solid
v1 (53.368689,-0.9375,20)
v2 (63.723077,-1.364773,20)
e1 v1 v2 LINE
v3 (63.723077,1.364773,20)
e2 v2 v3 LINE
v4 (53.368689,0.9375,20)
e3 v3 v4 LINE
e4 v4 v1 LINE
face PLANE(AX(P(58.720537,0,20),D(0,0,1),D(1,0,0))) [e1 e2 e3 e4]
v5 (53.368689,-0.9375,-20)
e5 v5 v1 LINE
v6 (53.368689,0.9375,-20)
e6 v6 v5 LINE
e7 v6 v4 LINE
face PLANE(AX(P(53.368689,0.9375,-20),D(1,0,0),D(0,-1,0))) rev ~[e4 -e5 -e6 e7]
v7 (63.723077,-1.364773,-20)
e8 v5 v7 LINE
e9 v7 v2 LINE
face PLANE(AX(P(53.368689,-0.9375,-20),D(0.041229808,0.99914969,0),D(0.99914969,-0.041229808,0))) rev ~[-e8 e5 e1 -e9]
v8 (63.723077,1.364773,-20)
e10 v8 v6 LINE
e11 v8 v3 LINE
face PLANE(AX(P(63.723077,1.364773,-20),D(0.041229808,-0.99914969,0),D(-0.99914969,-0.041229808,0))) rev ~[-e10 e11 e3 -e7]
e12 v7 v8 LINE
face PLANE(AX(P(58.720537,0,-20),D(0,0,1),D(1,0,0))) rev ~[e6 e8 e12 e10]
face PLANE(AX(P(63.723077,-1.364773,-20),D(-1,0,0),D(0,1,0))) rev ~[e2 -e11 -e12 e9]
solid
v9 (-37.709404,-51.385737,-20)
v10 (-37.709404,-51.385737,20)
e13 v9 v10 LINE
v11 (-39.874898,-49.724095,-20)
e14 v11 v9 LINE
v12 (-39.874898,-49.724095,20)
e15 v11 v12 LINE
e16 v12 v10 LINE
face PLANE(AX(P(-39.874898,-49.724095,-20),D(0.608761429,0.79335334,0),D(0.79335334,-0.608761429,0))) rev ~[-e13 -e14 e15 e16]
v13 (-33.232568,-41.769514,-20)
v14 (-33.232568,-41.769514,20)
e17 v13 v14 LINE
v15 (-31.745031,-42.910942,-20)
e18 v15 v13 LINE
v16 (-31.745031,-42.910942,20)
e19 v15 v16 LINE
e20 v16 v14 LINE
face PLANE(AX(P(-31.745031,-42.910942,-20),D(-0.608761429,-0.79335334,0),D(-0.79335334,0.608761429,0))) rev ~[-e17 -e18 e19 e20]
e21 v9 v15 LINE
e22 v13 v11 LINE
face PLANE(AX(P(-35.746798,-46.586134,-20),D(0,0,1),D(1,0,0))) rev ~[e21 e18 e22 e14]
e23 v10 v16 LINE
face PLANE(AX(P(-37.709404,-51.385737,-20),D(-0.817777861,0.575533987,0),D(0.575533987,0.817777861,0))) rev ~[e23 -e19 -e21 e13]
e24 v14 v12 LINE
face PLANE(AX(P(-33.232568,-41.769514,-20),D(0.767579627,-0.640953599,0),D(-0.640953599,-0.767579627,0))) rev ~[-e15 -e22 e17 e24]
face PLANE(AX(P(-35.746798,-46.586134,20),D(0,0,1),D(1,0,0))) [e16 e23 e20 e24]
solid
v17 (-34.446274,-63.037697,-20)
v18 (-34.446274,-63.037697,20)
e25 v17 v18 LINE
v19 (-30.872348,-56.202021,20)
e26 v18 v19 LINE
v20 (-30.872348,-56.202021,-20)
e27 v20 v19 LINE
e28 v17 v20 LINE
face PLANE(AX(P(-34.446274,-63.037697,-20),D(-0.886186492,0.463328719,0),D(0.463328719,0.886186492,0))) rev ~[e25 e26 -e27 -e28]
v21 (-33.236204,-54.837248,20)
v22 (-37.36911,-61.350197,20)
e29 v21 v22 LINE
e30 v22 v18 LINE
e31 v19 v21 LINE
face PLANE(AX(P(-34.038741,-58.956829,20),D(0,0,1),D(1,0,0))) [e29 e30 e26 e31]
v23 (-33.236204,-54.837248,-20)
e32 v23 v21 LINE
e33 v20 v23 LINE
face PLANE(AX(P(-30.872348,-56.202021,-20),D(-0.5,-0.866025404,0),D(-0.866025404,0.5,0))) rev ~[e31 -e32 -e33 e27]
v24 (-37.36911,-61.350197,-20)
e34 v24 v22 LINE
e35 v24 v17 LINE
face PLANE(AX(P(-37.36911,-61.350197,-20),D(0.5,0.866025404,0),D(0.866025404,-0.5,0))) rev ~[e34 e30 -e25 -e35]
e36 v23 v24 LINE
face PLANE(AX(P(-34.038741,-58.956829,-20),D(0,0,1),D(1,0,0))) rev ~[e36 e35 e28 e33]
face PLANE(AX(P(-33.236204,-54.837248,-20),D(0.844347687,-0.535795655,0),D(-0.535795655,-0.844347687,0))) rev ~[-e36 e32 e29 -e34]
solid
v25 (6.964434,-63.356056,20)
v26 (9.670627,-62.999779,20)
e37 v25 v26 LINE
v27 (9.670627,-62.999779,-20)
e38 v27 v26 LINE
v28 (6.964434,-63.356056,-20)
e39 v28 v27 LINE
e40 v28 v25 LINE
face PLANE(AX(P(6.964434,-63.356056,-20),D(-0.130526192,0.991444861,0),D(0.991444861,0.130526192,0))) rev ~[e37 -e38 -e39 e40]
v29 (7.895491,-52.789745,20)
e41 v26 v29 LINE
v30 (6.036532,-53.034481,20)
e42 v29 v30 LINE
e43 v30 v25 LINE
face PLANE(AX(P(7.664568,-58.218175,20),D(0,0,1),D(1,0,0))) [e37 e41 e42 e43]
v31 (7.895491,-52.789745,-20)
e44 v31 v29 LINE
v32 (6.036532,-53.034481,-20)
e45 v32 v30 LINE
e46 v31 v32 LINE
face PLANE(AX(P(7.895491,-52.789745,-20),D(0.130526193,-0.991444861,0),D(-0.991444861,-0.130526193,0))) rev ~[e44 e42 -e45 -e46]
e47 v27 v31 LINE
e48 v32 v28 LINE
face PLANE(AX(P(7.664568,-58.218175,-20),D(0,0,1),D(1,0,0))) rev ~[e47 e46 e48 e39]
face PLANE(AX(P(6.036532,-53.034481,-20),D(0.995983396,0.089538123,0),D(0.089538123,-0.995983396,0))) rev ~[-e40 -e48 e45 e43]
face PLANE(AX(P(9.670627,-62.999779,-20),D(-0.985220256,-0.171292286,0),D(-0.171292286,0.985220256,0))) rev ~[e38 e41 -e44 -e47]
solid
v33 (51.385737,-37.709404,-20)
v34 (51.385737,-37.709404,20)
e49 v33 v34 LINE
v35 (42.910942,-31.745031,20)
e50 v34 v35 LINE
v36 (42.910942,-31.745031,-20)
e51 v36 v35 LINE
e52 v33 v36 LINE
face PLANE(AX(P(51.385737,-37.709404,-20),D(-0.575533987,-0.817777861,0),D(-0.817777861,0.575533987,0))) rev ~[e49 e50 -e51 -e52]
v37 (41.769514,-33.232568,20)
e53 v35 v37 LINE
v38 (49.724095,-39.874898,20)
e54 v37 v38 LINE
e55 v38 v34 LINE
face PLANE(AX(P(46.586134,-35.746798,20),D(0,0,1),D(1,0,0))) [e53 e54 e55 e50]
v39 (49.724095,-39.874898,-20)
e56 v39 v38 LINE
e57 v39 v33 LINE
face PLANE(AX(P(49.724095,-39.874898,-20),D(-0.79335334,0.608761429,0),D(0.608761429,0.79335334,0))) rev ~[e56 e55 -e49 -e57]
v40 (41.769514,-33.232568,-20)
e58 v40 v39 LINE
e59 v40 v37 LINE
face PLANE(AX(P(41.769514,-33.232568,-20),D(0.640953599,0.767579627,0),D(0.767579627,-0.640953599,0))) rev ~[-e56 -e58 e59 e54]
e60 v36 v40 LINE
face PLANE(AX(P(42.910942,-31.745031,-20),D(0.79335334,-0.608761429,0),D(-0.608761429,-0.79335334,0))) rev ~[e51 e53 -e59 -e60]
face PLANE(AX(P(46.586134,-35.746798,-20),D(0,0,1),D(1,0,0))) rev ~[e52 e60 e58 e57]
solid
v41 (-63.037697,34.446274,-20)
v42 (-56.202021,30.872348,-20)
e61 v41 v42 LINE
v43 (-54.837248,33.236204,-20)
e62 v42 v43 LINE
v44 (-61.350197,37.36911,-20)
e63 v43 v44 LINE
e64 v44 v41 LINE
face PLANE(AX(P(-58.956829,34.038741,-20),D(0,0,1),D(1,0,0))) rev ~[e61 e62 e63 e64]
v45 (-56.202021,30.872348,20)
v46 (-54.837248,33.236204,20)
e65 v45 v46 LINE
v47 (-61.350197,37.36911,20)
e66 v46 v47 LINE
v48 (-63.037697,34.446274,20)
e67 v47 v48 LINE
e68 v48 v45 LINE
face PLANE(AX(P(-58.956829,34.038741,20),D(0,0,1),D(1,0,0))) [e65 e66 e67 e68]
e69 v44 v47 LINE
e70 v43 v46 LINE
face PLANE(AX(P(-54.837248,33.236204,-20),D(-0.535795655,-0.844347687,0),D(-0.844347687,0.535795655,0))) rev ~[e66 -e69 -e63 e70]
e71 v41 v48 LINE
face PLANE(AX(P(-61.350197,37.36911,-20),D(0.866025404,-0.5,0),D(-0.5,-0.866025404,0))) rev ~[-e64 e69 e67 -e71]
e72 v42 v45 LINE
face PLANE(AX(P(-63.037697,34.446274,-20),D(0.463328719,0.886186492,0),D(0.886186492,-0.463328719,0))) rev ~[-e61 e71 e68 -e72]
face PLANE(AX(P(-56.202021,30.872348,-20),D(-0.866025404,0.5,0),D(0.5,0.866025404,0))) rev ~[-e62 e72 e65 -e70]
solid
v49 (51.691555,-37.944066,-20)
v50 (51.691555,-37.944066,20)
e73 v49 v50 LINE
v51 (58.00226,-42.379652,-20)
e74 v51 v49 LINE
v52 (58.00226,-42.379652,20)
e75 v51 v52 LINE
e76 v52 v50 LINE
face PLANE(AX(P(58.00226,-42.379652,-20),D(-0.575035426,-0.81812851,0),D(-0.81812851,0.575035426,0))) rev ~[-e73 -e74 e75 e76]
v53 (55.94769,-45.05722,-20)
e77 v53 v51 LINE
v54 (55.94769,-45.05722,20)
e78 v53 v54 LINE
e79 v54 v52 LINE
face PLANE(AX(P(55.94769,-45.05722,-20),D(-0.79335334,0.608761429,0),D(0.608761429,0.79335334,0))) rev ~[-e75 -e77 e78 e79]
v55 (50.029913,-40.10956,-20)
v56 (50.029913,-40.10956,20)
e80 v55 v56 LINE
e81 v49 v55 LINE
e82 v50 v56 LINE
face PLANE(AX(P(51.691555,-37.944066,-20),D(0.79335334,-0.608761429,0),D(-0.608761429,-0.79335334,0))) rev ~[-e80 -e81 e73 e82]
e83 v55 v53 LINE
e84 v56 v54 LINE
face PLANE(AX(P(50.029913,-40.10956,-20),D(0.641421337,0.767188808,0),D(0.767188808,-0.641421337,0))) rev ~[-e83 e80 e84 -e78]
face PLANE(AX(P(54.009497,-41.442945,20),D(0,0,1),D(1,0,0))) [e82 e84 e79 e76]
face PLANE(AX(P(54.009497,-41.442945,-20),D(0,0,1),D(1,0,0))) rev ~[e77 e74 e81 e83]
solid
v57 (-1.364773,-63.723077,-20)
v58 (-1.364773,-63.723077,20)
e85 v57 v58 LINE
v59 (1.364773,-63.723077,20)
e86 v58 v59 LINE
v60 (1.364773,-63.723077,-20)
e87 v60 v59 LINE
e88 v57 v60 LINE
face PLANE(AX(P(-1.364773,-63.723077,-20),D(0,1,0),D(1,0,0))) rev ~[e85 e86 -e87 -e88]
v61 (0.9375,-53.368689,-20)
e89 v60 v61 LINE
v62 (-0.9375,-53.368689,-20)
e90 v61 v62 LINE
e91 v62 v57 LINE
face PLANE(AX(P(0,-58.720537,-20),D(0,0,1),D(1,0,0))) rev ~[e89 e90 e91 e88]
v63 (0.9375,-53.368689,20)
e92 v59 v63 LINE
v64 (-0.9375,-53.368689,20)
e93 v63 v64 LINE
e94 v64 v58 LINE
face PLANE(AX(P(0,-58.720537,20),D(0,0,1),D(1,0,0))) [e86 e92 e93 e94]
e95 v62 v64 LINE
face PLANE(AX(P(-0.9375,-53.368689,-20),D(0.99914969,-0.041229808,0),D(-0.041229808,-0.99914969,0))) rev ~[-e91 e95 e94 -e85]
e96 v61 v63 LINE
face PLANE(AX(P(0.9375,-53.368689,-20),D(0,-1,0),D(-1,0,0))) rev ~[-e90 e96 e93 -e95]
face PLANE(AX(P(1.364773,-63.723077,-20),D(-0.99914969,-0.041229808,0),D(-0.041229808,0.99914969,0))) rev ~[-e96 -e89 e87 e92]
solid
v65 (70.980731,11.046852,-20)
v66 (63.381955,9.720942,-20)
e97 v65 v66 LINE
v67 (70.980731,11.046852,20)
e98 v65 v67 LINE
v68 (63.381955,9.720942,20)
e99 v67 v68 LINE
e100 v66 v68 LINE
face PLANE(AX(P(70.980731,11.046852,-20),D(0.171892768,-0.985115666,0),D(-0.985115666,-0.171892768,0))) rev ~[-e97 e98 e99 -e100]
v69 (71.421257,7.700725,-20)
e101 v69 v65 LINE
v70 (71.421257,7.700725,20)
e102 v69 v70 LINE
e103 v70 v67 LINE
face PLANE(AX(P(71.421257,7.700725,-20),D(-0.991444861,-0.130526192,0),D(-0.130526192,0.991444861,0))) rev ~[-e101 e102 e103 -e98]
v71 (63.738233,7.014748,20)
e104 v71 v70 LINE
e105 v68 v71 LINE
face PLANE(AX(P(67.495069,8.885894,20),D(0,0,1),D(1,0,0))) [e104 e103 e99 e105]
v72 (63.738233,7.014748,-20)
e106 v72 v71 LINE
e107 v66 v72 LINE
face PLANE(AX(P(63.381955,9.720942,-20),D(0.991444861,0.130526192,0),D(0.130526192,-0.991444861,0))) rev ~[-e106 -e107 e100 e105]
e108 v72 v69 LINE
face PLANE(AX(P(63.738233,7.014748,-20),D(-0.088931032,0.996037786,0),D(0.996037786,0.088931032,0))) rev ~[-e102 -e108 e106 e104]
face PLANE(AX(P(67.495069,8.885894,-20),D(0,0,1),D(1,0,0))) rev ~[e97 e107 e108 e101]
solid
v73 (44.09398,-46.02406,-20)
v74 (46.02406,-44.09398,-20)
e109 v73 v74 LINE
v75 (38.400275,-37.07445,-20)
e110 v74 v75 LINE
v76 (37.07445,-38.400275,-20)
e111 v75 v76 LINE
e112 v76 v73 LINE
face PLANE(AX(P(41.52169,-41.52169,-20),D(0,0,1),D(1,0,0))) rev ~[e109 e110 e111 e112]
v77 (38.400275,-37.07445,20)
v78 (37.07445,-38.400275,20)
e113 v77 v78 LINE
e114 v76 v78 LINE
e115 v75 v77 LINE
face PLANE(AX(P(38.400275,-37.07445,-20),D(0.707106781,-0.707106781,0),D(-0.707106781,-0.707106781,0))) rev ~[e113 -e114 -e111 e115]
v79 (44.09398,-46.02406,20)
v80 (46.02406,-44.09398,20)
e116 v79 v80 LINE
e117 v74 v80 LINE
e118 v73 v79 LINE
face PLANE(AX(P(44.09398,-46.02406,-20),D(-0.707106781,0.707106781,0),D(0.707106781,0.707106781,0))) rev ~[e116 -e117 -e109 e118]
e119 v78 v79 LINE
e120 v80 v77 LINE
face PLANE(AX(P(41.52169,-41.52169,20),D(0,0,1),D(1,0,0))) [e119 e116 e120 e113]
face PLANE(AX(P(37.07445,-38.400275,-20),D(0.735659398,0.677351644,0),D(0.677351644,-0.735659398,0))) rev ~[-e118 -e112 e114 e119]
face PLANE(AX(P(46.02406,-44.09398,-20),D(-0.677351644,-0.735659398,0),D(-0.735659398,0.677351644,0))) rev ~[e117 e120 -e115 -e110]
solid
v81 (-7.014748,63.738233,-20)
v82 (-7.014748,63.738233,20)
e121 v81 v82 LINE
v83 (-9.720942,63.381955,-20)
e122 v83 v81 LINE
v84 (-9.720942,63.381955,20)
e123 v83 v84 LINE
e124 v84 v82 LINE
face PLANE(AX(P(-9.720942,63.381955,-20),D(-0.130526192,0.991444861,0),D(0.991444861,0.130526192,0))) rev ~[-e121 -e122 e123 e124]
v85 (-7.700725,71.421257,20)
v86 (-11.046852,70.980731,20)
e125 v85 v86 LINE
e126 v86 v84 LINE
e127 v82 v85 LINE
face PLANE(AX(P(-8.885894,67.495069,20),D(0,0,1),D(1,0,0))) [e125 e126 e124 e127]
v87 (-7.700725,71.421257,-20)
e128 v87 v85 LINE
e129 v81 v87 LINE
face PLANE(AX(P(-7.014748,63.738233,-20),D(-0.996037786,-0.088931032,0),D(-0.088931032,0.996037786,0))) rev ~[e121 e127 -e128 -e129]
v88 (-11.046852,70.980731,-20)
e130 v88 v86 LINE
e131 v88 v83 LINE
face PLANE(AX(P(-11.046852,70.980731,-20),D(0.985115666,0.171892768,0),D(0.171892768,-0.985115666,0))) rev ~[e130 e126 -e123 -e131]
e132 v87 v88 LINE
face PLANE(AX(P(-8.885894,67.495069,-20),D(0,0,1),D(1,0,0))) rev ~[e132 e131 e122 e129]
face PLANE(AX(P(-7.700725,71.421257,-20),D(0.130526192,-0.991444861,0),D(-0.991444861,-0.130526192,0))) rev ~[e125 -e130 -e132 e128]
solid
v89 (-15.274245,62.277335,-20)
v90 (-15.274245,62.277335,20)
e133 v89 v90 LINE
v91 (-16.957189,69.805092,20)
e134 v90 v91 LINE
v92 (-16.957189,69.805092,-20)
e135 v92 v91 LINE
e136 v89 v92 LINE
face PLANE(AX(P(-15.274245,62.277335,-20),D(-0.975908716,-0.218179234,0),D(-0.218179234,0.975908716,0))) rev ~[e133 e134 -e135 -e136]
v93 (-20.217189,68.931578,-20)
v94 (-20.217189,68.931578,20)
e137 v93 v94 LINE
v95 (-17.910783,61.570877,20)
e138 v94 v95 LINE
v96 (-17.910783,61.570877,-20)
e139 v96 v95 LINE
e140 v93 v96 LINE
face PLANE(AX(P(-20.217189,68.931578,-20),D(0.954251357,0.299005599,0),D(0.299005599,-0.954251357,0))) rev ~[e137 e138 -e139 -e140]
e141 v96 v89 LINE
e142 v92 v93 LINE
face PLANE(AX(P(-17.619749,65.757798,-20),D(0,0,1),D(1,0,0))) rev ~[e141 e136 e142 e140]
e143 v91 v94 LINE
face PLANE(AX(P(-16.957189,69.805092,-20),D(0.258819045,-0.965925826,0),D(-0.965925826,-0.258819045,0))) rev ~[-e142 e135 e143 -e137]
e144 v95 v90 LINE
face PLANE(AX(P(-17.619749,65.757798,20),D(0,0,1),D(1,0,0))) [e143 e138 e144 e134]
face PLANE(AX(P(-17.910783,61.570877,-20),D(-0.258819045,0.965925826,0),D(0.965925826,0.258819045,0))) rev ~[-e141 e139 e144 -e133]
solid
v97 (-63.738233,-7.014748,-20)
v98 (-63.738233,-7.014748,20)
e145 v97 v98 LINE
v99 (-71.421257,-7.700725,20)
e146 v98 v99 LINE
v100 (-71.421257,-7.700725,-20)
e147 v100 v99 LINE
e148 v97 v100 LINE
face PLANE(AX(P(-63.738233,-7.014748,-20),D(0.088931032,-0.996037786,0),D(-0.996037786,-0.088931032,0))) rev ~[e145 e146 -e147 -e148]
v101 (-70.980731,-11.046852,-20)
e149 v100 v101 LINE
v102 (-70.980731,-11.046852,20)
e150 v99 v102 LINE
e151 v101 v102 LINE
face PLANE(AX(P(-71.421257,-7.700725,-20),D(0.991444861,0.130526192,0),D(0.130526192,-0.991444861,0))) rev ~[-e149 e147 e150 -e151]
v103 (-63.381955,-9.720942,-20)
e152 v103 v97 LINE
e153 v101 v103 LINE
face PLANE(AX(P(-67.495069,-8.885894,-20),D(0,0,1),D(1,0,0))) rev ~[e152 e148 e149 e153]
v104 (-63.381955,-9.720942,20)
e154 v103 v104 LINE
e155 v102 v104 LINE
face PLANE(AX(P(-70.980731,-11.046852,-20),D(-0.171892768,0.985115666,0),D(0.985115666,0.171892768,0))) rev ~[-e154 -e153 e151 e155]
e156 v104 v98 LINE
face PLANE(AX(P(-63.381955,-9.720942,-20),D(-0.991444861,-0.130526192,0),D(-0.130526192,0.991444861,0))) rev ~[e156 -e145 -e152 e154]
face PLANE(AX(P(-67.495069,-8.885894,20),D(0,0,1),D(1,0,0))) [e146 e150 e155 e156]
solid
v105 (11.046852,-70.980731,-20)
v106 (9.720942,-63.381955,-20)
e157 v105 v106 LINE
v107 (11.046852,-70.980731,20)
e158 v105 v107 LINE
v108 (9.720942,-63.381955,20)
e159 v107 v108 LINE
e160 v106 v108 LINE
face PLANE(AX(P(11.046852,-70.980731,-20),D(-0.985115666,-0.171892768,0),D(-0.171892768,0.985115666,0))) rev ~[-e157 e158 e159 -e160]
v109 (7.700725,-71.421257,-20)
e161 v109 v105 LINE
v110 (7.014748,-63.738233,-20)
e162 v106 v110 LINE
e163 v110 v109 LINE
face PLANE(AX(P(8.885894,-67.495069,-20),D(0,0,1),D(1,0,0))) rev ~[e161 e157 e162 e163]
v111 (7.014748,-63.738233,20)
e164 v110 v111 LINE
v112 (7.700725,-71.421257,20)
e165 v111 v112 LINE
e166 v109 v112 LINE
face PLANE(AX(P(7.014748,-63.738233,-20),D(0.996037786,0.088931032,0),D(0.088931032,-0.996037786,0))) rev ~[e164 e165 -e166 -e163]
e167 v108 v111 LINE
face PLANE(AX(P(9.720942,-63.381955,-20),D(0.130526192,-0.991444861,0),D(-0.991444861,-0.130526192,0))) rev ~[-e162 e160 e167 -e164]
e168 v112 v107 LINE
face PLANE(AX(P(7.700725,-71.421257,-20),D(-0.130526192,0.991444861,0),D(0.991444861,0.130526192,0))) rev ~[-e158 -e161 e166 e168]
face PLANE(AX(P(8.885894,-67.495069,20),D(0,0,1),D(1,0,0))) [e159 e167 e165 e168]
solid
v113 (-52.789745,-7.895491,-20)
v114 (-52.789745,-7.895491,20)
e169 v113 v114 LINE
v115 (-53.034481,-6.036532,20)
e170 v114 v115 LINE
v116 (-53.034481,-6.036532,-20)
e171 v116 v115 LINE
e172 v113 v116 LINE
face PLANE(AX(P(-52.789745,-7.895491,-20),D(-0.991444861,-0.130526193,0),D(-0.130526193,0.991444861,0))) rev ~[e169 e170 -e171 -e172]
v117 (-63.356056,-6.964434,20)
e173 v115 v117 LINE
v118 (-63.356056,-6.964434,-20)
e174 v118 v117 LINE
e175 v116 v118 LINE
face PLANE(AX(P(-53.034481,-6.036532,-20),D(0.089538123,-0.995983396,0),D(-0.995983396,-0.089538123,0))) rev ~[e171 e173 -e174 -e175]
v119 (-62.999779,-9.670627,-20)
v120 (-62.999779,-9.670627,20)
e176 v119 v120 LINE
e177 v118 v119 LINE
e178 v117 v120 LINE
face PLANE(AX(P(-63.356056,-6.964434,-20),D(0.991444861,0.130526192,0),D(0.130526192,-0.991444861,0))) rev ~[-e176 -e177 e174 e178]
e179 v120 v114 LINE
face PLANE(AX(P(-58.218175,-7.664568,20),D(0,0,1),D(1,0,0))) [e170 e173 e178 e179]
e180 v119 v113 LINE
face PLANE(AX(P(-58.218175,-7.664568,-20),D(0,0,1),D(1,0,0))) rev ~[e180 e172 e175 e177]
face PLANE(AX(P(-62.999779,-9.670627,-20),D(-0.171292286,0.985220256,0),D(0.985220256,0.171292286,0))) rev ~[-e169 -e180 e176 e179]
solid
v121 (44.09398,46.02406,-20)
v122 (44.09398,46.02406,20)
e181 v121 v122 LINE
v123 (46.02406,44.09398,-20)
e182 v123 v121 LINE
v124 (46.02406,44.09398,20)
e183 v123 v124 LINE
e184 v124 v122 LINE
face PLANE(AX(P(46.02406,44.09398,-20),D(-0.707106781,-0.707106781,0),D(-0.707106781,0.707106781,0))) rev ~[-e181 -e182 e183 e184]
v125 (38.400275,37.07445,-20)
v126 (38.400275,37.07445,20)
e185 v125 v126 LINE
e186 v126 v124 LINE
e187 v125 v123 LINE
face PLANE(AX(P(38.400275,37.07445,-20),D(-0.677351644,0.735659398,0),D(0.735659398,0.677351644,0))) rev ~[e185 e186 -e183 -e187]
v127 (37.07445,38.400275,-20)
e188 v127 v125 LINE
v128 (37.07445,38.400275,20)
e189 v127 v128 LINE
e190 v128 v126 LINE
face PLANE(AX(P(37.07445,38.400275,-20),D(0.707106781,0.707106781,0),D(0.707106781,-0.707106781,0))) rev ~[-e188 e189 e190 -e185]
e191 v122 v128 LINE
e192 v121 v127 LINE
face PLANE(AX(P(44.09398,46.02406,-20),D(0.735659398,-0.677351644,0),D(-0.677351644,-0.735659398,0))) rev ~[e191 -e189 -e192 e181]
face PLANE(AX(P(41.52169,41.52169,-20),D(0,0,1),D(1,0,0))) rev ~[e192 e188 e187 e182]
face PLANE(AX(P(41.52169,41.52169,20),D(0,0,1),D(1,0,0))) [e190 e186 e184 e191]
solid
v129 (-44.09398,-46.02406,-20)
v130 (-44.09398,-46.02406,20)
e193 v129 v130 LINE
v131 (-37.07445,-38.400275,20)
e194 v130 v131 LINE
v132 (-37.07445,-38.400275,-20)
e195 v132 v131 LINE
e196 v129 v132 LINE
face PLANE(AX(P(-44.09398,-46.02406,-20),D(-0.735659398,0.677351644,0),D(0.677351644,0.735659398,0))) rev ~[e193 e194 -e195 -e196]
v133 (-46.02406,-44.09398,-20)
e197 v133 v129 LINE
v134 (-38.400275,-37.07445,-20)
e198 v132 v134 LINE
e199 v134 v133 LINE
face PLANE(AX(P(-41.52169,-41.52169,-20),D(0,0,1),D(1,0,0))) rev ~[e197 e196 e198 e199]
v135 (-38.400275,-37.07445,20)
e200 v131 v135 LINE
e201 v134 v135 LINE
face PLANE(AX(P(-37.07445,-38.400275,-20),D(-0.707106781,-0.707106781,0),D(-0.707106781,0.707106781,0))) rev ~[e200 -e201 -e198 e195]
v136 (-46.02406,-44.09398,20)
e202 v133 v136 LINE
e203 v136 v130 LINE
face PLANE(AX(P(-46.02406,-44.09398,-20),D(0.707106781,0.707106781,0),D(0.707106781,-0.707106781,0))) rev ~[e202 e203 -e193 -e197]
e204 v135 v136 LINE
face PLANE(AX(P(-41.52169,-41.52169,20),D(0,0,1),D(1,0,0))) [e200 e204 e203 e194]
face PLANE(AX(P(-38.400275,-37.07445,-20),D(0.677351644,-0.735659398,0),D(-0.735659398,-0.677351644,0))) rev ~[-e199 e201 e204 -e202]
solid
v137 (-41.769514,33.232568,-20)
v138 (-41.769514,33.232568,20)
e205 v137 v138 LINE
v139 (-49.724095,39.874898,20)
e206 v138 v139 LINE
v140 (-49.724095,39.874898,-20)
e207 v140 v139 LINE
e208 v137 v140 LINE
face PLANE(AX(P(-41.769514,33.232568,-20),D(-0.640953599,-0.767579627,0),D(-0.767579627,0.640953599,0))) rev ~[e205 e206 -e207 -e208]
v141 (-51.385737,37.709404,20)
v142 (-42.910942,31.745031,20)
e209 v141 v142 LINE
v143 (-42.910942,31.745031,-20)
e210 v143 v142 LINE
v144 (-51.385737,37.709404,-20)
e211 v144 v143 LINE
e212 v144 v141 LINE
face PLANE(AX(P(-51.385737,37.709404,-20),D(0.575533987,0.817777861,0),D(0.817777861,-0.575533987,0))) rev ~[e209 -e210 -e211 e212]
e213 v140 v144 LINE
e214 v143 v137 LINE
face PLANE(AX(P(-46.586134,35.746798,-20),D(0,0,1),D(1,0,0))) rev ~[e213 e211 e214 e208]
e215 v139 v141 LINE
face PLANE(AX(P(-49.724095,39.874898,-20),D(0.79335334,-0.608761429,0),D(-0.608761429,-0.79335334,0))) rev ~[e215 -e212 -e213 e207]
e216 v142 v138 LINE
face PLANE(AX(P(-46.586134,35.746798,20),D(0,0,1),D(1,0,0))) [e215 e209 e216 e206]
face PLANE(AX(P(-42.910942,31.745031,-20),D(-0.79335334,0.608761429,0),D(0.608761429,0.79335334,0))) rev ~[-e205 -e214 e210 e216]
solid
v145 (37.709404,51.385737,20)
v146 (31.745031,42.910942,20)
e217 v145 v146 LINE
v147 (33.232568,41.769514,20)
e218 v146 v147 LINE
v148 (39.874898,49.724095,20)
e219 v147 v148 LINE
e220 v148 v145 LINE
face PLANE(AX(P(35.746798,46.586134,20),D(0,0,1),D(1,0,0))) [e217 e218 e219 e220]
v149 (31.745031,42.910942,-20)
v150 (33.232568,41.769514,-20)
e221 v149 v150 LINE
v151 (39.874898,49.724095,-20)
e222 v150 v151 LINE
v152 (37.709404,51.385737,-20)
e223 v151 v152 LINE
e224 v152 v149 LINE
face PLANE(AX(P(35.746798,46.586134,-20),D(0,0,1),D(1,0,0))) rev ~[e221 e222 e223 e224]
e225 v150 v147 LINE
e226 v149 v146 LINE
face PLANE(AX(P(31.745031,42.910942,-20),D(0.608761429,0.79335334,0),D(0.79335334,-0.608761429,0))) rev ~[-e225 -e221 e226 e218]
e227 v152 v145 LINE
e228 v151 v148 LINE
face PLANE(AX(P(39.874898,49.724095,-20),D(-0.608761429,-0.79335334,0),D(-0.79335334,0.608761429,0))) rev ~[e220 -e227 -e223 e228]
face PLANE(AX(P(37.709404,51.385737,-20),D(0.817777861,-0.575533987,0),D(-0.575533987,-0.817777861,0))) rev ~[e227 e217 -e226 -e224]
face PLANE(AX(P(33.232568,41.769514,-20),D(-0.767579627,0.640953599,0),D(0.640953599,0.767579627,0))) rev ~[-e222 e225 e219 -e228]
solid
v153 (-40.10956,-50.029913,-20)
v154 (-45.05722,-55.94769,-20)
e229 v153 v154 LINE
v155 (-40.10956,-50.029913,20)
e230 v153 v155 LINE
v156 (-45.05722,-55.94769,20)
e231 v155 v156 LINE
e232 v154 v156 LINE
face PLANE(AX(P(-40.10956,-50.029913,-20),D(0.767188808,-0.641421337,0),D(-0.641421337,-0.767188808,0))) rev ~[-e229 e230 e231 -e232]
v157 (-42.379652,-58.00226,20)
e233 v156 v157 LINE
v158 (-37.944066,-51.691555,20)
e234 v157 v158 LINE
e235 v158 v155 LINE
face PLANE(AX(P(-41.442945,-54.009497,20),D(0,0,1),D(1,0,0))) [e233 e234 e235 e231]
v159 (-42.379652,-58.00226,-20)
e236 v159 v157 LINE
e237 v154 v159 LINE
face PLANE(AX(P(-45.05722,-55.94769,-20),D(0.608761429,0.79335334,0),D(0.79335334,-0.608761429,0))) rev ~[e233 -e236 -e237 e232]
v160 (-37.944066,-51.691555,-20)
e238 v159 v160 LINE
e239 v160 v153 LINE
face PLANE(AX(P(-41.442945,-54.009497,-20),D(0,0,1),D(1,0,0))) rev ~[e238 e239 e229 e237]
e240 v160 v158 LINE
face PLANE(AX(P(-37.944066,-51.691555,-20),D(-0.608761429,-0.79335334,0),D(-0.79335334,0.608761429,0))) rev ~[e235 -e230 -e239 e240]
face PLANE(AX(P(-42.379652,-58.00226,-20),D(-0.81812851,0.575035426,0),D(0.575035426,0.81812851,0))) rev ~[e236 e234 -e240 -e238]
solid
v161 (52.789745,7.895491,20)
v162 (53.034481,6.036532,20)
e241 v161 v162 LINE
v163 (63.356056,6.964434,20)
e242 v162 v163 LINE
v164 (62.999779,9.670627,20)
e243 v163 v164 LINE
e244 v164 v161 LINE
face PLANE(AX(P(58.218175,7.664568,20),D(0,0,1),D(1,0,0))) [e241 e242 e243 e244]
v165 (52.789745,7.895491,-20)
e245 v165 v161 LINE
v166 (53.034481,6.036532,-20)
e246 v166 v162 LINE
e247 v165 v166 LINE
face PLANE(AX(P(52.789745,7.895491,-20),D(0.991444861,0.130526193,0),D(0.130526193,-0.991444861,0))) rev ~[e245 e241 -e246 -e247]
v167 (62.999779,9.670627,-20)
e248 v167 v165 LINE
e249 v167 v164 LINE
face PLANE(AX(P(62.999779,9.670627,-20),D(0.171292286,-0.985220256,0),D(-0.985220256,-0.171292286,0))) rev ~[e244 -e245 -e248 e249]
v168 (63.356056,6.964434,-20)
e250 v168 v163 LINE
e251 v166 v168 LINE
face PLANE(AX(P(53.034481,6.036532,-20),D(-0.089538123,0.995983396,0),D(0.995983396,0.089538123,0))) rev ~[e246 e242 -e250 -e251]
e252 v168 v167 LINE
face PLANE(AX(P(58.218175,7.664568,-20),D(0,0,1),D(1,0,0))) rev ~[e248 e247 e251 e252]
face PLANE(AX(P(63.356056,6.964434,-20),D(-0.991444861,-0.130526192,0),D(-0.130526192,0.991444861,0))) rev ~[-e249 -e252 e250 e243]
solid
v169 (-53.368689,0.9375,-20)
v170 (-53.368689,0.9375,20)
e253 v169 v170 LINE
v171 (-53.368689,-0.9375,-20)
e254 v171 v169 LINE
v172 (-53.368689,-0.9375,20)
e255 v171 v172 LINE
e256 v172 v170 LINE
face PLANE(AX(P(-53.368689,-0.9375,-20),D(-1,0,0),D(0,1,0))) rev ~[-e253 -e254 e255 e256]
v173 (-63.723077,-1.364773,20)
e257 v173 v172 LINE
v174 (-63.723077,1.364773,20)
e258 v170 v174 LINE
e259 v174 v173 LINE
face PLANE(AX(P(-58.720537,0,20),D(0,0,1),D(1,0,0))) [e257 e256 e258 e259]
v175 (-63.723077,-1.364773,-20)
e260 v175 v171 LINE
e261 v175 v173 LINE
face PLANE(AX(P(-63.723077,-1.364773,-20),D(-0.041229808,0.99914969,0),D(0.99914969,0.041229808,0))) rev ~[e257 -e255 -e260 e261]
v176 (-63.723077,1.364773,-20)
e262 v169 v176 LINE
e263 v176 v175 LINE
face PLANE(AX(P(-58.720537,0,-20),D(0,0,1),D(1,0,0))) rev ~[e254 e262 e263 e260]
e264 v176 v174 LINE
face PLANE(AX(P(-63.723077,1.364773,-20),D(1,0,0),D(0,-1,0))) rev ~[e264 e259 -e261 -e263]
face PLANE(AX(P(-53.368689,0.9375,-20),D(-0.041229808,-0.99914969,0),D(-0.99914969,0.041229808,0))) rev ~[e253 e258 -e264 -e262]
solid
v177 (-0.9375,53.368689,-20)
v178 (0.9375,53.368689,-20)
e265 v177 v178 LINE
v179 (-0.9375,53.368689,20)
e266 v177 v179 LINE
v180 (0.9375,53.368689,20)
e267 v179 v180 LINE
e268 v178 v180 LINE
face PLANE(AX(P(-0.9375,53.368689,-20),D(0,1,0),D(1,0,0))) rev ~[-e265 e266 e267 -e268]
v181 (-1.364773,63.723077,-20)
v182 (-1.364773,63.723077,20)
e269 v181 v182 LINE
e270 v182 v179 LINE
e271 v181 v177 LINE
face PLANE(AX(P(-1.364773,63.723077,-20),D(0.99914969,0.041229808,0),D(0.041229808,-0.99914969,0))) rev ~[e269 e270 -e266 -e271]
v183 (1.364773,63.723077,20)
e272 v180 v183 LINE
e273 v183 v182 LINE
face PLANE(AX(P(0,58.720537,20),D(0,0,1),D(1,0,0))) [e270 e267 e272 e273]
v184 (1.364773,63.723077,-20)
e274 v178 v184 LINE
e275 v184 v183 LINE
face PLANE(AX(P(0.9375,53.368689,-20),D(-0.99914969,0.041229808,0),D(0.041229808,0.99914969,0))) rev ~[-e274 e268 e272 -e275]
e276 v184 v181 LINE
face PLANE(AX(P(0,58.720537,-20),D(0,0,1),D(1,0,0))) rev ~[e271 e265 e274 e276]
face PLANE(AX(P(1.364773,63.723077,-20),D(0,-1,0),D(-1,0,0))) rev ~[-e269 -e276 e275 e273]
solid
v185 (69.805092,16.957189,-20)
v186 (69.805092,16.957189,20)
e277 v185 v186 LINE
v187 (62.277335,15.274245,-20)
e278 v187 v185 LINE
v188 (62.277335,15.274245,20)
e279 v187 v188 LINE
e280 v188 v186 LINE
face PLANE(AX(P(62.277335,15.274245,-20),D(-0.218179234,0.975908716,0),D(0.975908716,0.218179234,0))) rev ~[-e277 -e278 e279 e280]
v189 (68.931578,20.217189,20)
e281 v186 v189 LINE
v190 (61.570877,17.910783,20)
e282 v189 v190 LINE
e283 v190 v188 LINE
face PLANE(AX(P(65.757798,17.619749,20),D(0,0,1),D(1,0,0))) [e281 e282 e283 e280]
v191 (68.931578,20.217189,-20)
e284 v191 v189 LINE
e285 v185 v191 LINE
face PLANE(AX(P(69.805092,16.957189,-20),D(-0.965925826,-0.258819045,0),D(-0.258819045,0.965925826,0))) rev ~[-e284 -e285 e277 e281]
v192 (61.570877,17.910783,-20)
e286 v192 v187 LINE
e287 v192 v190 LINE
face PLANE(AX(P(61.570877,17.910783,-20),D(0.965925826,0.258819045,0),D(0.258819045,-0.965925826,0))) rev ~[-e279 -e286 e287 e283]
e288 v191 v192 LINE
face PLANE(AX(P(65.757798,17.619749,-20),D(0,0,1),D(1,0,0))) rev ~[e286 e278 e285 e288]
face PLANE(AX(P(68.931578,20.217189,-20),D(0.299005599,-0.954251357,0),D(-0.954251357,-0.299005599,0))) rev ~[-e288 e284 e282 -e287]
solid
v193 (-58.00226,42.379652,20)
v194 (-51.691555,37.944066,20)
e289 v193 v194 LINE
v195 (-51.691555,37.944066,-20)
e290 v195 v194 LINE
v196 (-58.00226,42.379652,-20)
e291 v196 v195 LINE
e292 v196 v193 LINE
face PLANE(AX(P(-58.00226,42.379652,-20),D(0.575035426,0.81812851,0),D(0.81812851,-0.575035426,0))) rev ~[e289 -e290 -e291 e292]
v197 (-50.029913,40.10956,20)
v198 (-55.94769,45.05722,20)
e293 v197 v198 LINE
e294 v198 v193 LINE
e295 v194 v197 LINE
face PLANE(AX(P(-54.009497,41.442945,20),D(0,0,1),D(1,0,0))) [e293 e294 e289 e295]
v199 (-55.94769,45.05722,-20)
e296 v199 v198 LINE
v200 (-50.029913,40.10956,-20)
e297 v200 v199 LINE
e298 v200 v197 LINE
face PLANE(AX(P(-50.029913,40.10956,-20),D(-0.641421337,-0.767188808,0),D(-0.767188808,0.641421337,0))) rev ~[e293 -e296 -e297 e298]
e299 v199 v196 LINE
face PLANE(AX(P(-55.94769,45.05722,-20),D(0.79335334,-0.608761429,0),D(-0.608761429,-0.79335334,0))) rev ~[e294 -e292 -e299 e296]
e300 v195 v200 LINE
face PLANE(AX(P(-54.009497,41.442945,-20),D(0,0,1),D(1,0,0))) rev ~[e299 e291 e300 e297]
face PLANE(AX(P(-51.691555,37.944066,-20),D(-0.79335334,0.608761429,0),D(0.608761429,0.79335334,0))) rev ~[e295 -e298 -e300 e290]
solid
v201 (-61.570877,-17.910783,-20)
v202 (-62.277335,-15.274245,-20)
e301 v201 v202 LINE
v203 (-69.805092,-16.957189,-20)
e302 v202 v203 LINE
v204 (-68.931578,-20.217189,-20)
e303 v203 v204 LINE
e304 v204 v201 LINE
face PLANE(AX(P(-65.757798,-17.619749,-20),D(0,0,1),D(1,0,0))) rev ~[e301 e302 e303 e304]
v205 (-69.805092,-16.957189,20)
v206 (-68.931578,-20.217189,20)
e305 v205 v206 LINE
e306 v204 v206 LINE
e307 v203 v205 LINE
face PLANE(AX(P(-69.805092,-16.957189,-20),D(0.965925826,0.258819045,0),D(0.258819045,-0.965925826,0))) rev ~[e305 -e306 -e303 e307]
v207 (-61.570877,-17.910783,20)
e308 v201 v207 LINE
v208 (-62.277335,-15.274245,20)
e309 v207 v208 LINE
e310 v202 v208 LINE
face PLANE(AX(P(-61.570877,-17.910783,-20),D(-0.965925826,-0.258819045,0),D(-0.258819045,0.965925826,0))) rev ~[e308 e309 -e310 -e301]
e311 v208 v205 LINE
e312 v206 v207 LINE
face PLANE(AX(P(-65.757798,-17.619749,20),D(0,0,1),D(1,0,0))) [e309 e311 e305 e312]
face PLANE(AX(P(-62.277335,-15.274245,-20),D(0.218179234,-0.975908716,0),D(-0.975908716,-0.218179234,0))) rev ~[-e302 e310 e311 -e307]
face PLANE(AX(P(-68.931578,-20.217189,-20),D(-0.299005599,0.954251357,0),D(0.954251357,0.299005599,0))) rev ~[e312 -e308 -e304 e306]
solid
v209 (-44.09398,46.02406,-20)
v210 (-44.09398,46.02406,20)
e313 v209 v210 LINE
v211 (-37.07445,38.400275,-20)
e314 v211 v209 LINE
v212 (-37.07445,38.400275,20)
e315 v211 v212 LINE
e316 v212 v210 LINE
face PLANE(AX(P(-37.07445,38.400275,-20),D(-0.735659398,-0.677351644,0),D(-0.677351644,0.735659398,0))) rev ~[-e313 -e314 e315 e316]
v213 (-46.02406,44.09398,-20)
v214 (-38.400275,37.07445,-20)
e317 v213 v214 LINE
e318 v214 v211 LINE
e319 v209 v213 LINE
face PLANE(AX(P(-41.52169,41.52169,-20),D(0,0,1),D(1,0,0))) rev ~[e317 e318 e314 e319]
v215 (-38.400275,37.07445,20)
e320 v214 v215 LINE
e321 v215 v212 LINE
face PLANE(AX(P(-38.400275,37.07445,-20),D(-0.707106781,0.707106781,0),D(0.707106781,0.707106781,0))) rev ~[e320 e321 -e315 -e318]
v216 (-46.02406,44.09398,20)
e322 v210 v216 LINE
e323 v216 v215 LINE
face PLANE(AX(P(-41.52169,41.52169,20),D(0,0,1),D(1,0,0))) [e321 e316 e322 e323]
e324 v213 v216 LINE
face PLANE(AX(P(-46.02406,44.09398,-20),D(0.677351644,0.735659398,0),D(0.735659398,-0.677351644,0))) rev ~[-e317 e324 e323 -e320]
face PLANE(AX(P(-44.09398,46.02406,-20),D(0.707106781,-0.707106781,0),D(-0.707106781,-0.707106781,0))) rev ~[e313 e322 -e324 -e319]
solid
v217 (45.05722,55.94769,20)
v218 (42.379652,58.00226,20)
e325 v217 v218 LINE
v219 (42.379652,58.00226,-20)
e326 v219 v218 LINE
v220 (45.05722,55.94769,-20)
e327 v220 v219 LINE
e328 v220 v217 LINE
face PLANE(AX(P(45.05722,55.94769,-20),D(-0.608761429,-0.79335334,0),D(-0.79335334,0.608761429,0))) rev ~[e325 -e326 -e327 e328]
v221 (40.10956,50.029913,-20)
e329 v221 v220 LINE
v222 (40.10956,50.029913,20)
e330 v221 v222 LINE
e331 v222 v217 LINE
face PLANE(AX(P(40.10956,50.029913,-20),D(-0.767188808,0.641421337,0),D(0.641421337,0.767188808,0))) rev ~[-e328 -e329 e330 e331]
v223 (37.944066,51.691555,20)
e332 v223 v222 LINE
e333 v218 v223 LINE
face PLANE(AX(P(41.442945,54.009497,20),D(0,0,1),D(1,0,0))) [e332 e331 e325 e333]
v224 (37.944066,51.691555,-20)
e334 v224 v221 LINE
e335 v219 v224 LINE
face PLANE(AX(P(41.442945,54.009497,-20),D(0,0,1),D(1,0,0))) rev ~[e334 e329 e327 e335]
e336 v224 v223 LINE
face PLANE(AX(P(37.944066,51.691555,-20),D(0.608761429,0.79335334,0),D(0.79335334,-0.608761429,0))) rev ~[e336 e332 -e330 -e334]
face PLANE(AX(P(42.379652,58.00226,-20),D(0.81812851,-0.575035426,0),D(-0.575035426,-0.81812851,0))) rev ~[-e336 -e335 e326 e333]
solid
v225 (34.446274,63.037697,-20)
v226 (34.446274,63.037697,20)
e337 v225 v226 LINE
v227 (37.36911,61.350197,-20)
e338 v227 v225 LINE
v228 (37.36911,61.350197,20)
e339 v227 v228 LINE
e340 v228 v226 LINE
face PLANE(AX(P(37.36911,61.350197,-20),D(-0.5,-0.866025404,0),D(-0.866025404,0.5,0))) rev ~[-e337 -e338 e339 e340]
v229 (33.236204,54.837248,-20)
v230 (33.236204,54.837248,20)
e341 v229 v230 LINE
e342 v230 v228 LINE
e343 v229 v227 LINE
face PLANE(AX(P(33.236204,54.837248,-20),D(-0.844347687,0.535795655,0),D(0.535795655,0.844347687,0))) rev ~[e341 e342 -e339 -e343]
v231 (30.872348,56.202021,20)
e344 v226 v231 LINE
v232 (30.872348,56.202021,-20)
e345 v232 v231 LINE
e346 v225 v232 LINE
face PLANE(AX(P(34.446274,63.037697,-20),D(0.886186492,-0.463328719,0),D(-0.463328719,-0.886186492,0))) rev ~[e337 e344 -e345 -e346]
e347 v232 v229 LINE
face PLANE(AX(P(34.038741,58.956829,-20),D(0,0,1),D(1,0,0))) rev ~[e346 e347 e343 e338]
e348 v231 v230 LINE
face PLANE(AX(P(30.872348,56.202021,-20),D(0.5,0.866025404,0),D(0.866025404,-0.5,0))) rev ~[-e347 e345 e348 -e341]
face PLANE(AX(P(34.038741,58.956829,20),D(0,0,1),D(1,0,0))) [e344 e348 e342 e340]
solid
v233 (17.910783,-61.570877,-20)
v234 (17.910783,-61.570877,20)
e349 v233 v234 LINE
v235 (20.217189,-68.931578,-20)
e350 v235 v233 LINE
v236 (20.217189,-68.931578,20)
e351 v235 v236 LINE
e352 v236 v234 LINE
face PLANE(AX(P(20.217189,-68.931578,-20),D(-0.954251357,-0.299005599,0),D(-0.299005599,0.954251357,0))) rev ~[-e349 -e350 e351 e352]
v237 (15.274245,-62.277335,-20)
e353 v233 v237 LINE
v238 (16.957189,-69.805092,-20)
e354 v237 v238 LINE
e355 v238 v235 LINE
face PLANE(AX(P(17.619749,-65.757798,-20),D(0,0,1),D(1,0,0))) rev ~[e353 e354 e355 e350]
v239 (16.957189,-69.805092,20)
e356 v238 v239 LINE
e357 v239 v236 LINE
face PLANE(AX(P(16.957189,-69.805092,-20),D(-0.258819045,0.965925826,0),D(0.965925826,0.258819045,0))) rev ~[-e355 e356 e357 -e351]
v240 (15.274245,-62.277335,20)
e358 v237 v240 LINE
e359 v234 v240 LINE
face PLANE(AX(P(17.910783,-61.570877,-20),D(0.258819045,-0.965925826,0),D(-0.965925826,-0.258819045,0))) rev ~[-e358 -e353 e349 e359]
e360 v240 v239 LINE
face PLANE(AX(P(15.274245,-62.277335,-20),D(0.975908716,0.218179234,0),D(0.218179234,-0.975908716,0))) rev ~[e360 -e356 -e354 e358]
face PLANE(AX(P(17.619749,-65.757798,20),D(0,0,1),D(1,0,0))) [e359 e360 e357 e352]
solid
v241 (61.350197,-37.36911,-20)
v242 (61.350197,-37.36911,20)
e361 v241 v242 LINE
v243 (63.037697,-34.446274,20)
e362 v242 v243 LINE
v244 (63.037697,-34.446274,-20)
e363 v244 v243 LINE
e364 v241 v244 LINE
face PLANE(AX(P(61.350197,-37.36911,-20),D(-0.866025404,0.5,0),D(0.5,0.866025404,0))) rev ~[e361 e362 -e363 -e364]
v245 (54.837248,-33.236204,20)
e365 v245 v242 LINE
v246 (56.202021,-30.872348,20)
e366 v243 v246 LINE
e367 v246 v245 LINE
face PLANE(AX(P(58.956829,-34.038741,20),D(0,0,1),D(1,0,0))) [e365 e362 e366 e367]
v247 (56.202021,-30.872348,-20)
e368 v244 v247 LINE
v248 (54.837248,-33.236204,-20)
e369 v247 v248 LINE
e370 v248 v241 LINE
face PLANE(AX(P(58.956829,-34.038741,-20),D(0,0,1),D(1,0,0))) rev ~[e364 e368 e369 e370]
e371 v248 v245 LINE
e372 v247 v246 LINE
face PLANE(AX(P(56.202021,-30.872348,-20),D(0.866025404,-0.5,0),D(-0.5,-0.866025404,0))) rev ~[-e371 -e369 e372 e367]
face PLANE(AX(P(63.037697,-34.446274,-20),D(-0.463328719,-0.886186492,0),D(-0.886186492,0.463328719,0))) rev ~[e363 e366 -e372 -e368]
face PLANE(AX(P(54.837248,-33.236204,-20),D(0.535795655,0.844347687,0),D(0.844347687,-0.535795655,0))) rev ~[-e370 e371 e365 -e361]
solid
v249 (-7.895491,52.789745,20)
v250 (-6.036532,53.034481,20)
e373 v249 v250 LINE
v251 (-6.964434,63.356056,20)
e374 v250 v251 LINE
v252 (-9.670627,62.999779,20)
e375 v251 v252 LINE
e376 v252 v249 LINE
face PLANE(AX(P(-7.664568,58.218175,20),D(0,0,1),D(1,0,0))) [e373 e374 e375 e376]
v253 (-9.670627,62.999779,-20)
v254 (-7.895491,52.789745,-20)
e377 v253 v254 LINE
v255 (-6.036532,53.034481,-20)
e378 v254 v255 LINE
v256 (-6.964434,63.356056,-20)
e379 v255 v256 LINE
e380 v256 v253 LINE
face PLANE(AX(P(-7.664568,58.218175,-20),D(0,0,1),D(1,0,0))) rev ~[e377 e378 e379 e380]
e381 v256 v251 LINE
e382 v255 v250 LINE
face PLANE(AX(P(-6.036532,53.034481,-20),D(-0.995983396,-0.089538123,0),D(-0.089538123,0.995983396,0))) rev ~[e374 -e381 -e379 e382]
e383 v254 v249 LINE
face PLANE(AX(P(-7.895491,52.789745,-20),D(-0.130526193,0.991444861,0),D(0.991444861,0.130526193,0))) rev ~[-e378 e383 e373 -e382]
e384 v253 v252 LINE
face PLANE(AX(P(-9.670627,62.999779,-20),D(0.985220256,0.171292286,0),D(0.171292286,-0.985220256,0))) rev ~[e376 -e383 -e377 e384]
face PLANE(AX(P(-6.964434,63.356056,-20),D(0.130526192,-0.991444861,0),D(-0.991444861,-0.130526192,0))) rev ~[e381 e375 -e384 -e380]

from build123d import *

# Parameters (mm, degrees)
SLOT_COPPER_ENVELOPES_START    = -20
SLOT_COPPER_ENVELOPES_DEPTH    = 40
SLOT_COPPER_ENVELOPES_2_DEPTH  = 40
SLOT_COPPER_ENVELOPES_3_DEPTH  = 40
SLOT_COPPER_ENVELOPES_4_DEPTH  = 40
SLOT_COPPER_ENVELOPES_5_DEPTH  = 40
SLOT_COPPER_ENVELOPES_6_DEPTH  = 40
SLOT_COPPER_ENVELOPES_7_DEPTH  = 40
SLOT_COPPER_ENVELOPES_8_DEPTH  = 40
SLOT_COPPER_ENVELOPES_9_DEPTH  = 40
SLOT_COPPER_ENVELOPES_10_DEPTH = 40
SLOT_COPPER_ENVELOPES_11_DEPTH = 40
SLOT_COPPER_ENVELOPES_12_DEPTH = 40
SLOT_COPPER_ENVELOPES_13_DEPTH = 40
SLOT_COPPER_ENVELOPES_14_DEPTH = 40
SLOT_COPPER_ENVELOPES_15_DEPTH = 40
SLOT_COPPER_ENVELOPES_16_DEPTH = 40
SLOT_COPPER_ENVELOPES_17_DEPTH = 40
SLOT_COPPER_ENVELOPES_18_DEPTH = 40
SLOT_COPPER_ENVELOPES_19_DEPTH = 40
SLOT_COPPER_ENVELOPES_20_DEPTH = 40
SLOT_COPPER_ENVELOPES_21_DEPTH = 40
SLOT_COPPER_ENVELOPES_22_DEPTH = 40
SLOT_COPPER_ENVELOPES_23_DEPTH = 40
SLOT_COPPER_ENVELOPES_24_DEPTH = 40
SLOT_COPPER_ENVELOPES_25_DEPTH = 40
SLOT_COPPER_ENVELOPES_26_DEPTH = 40
SLOT_COPPER_ENVELOPES_27_DEPTH = 40
SLOT_COPPER_ENVELOPES_28_DEPTH = 40
SLOT_COPPER_ENVELOPES_29_DEPTH = 40
SLOT_COPPER_ENVELOPES_30_DEPTH = 40
SLOT_COPPER_ENVELOPES_31_DEPTH = 40
SLOT_COPPER_ENVELOPES_32_DEPTH = 40


with BuildPart() as part:
    # Эскиз1 → Slot_copper_envelopes (new body)
    with BuildSketch(Plane.XY.offset(SLOT_COPPER_ENVELOPES_START)):
        Polygon((53.368689425, -0.9375), (63.723076923, -1.364772727), (63.723076923, 1.364772727), (53.368689425, 0.9375), align=None)
    extrude(amount=SLOT_COPPER_ENVELOPES_DEPTH)


with BuildPart() as body_2:
    # Эскиз1 → Slot_copper_envelopes 2 (new body)
    with BuildSketch(Plane.XY.offset(SLOT_COPPER_ENVELOPES_START)):
        Polygon((63.738232651, 7.014748223), (71.421256994, 7.700725493), (70.980731095, 11.0468519), (63.381955476, 9.720942038), align=None)
    extrude(amount=SLOT_COPPER_ENVELOPES_2_DEPTH)


with BuildPart() as body_3:
    # Эскиз1 → Slot_copper_envelopes 3 (new body)
    with BuildSketch(Plane.XY.offset(SLOT_COPPER_ENVELOPES_START)):
        Polygon((53.034481194, 6.036532257), (63.356055754, 6.96443368), (62.999778579, 9.670627495), (52.789744583, 7.895491372), align=None)
    extrude(amount=SLOT_COPPER_ENVELOPES_3_DEPTH)


with BuildPart() as body_4:
    # Эскиз1 → Slot_copper_envelopes 4 (new body)
    with BuildSketch(Plane.XY.offset(SLOT_COPPER_ENVELOPES_START)):
        Polygon((62.27733486, 15.274244886), (69.805091863, 16.957189438), (68.931577586, 20.217189102), (61.570876512, 17.910783335), align=None)
    extrude(amount=SLOT_COPPER_ENVELOPES_4_DEPTH)


with BuildPart() as body_5:
    # Эскиз1 → Slot_copper_envelopes 5 (new body)
    with BuildSketch(Plane.XY.offset(SLOT_COPPER_ENVELOPES_START)):
        Polygon((38.400274803, 37.074449588), (46.024059861, 44.09397976), (44.09397976, 46.024059861), (37.074449588, 38.400274803), align=None)
    extrude(amount=SLOT_COPPER_ENVELOPES_5_DEPTH)


with BuildPart() as body_6:
    # Эскиз1 → Slot_copper_envelopes 6 (new body)
    with BuildSketch(Plane.XY.offset(SLOT_COPPER_ENVELOPES_START)):
        Polygon((40.109560491, 50.029912565), (45.057219925, 55.947690357), (42.379652402, 58.00226018), (37.944066488, 51.691554556), align=None)
    extrude(amount=SLOT_COPPER_ENVELOPES_6_DEPTH)


with BuildPart() as body_7:
    # Эскиз1 → Slot_copper_envelopes 7 (new body)
    with BuildSketch(Plane.XY.offset(SLOT_COPPER_ENVELOPES_START)):
        Polygon((33.232568395, 41.769514182), (39.87489837, 49.724094935), (37.709404367, 51.385736926), (31.745030882, 42.910941862), align=None)
    extrude(amount=SLOT_COPPER_ENVELOPES_7_DEPTH)


with BuildPart() as body_8:
    # Эскиз1 → Slot_copper_envelopes 8 (new body)
    with BuildSketch(Plane.XY.offset(SLOT_COPPER_ENVELOPES_START)):
        Polygon((33.236203657, 54.83724793), (37.369110177, 61.350197459), (34.446274439, 63.037697459), (30.872347953, 56.202020657), align=None)
    extrude(amount=SLOT_COPPER_ENVELOPES_8_DEPTH)


with BuildPart() as body_9:
    # Эскиз1 → Slot_copper_envelopes 9 (new body)
    with BuildSketch(Plane.XY.offset(SLOT_COPPER_ENVELOPES_START)):
        Polygon((0.9375, 53.368689425), (1.364772727, 63.723076923), (-1.364772727, 63.723076923), (-0.9375, 53.368689425), align=None)
    extrude(amount=SLOT_COPPER_ENVELOPES_9_DEPTH)


with BuildPart() as body_10:
    # Эскиз1 → Slot_copper_envelopes 10 (new body)
    with BuildSketch(Plane.XY.offset(SLOT_COPPER_ENVELOPES_START)):
        Polygon((-7.014748223, 63.738232651), (-7.700725493, 71.421256994), (-11.0468519, 70.980731095), (-9.720942038, 63.381955476), align=None)
    extrude(amount=SLOT_COPPER_ENVELOPES_10_DEPTH)


with BuildPart() as body_11:
    # Эскиз1 → Slot_copper_envelopes 11 (new body)
    with BuildSketch(Plane.XY.offset(SLOT_COPPER_ENVELOPES_START)):
        Polygon((-6.036532257, 53.034481194), (-6.96443368, 63.356055754), (-9.670627495, 62.999778579), (-7.895491372, 52.789744583), align=None)
    extrude(amount=SLOT_COPPER_ENVELOPES_11_DEPTH)


with BuildPart() as body_12:
    # Эскиз1 → Slot_copper_envelopes 12 (new body)
    with BuildSketch(Plane.XY.offset(SLOT_COPPER_ENVELOPES_START)):
        Polygon((-15.274244886, 62.27733486), (-16.957189438, 69.805091863), (-20.217189102, 68.931577586), (-17.910783335, 61.570876512), align=None)
    extrude(amount=SLOT_COPPER_ENVELOPES_12_DEPTH)


with BuildPart() as body_13:
    # Эскиз1 → Slot_copper_envelopes 13 (new body)
    with BuildSketch(Plane.XY.offset(SLOT_COPPER_ENVELOPES_START)):
        Polygon((-37.074449588, 38.400274803), (-44.09397976, 46.024059861), (-46.024059861, 44.09397976), (-38.400274803, 37.074449588), align=None)
    extrude(amount=SLOT_COPPER_ENVELOPES_13_DEPTH)


with BuildPart() as body_14:
    # Эскиз1 → Slot_copper_envelopes 14 (new body)
    with BuildSketch(Plane.XY.offset(SLOT_COPPER_ENVELOPES_START)):
        Polygon((-50.029912565, 40.109560491), (-55.947690357, 45.057219925), (-58.00226018, 42.379652402), (-51.691554556, 37.944066488), align=None)
    extrude(amount=SLOT_COPPER_ENVELOPES_14_DEPTH)


with BuildPart() as body_15:
    # Эскиз1 → Slot_copper_envelopes 15 (new body)
    with BuildSketch(Plane.XY.offset(SLOT_COPPER_ENVELOPES_START)):
        Polygon((-41.769514182, 33.232568395), (-49.724094935, 39.87489837), (-51.385736926, 37.709404367), (-42.910941862, 31.745030882), align=None)
    extrude(amount=SLOT_COPPER_ENVELOPES_15_DEPTH)


with BuildPart() as body_16:
    # Эскиз1 → Slot_copper_envelopes 16 (new body)
    with BuildSketch(Plane.XY.offset(SLOT_COPPER_ENVELOPES_START)):
        Polygon((-54.83724793, 33.236203657), (-61.350197459, 37.369110177), (-63.037697459, 34.446274439), (-56.202020657, 30.872347953), align=None)
    extrude(amount=SLOT_COPPER_ENVELOPES_16_DEPTH)


with BuildPart() as body_17:
    # Эскиз1 → Slot_copper_envelopes 17 (new body)
    with BuildSketch(Plane.XY.offset(SLOT_COPPER_ENVELOPES_START)):
        Polygon((-53.368689425, 0.9375), (-63.723076923, 1.364772727), (-63.723076923, -1.364772727), (-53.368689425, -0.9375), align=None)
    extrude(amount=SLOT_COPPER_ENVELOPES_17_DEPTH)


with BuildPart() as body_18:
    # Эскиз1 → Slot_copper_envelopes 18 (new body)
    with BuildSketch(Plane.XY.offset(SLOT_COPPER_ENVELOPES_START)):
        Polygon((-63.738232651, -7.014748223), (-71.421256994, -7.700725493), (-70.980731095, -11.0468519), (-63.381955476, -9.720942038), align=None)
    extrude(amount=SLOT_COPPER_ENVELOPES_18_DEPTH)


with BuildPart() as body_19:
    # Эскиз1 → Slot_copper_envelopes 19 (new body)
    with BuildSketch(Plane.XY.offset(SLOT_COPPER_ENVELOPES_START)):
        Polygon((-53.034481194, -6.036532257), (-63.356055754, -6.96443368), (-62.999778579, -9.670627495), (-52.789744583, -7.895491372), align=None)
    extrude(amount=SLOT_COPPER_ENVELOPES_19_DEPTH)


with BuildPart() as body_20:
    # Эскиз1 → Slot_copper_envelopes 20 (new body)
    with BuildSketch(Plane.XY.offset(SLOT_COPPER_ENVELOPES_START)):
        Polygon((-62.27733486, -15.274244886), (-69.805091863, -16.957189438), (-68.931577586, -20.217189102), (-61.570876512, -17.910783335), align=None)
    extrude(amount=SLOT_COPPER_ENVELOPES_20_DEPTH)


with BuildPart() as body_21:
    # Эскиз1 → Slot_copper_envelopes 21 (new body)
    with BuildSketch(Plane.XY.offset(SLOT_COPPER_ENVELOPES_START)):
        Polygon((-38.400274803, -37.074449588), (-46.024059861, -44.09397976), (-44.09397976, -46.024059861), (-37.074449588, -38.400274803), align=None)
    extrude(amount=SLOT_COPPER_ENVELOPES_21_DEPTH)


with BuildPart() as body_22:
    # Эскиз1 → Slot_copper_envelopes 22 (new body)
    with BuildSketch(Plane.XY.offset(SLOT_COPPER_ENVELOPES_START)):
        Polygon((-40.109560491, -50.029912565), (-45.057219925, -55.947690357), (-42.379652402, -58.00226018), (-37.944066488, -51.691554556), align=None)
    extrude(amount=SLOT_COPPER_ENVELOPES_22_DEPTH)


with BuildPart() as body_23:
    # Эскиз1 → Slot_copper_envelopes 23 (new body)
    with BuildSketch(Plane.XY.offset(SLOT_COPPER_ENVELOPES_START)):
        Polygon((-33.232568395, -41.769514182), (-39.87489837, -49.724094935), (-37.709404367, -51.385736926), (-31.745030882, -42.910941862), align=None)
    extrude(amount=SLOT_COPPER_ENVELOPES_23_DEPTH)


with BuildPart() as body_24:
    # Эскиз1 → Slot_copper_envelopes 24 (new body)
    with BuildSketch(Plane.XY.offset(SLOT_COPPER_ENVELOPES_START)):
        Polygon((-33.236203657, -54.83724793), (-37.369110177, -61.350197459), (-34.446274439, -63.037697459), (-30.872347953, -56.202020657), align=None)
    extrude(amount=SLOT_COPPER_ENVELOPES_24_DEPTH)


with BuildPart() as body_25:
    # Эскиз1 → Slot_copper_envelopes 25 (new body)
    with BuildSketch(Plane.XY.offset(SLOT_COPPER_ENVELOPES_START)):
        Polygon((-0.9375, -53.368689425), (-1.364772727, -63.723076923), (1.364772727, -63.723076923), (0.9375, -53.368689425), align=None)
    extrude(amount=SLOT_COPPER_ENVELOPES_25_DEPTH)


with BuildPart() as body_26:
    # Эскиз1 → Slot_copper_envelopes 26 (new body)
    with BuildSketch(Plane.XY.offset(SLOT_COPPER_ENVELOPES_START)):
        Polygon((7.014748223, -63.738232651), (7.700725493, -71.421256994), (11.0468519, -70.980731095), (9.720942038, -63.381955476), align=None)
    extrude(amount=SLOT_COPPER_ENVELOPES_26_DEPTH)


with BuildPart() as body_27:
    # Эскиз1 → Slot_copper_envelopes 27 (new body)
    with BuildSketch(Plane.XY.offset(SLOT_COPPER_ENVELOPES_START)):
        Polygon((6.036532257, -53.034481194), (6.96443368, -63.356055754), (9.670627495, -62.999778579), (7.895491372, -52.789744583), align=None)
    extrude(amount=SLOT_COPPER_ENVELOPES_27_DEPTH)


with BuildPart() as body_28:
    # Эскиз1 → Slot_copper_envelopes 28 (new body)
    with BuildSketch(Plane.XY.offset(SLOT_COPPER_ENVELOPES_START)):
        Polygon((15.274244886, -62.27733486), (16.957189438, -69.805091863), (20.217189102, -68.931577586), (17.910783335, -61.570876512), align=None)
    extrude(amount=SLOT_COPPER_ENVELOPES_28_DEPTH)


with BuildPart() as body_29:
    # Эскиз1 → Slot_copper_envelopes 29 (new body)
    with BuildSketch(Plane.XY.offset(SLOT_COPPER_ENVELOPES_START)):
        Polygon((37.074449588, -38.400274803), (44.09397976, -46.024059861), (46.024059861, -44.09397976), (38.400274803, -37.074449588), align=None)
    extrude(amount=SLOT_COPPER_ENVELOPES_29_DEPTH)


with BuildPart() as body_30:
    # Эскиз1 → Slot_copper_envelopes 30 (new body)
    with BuildSketch(Plane.XY.offset(SLOT_COPPER_ENVELOPES_START)):
        Polygon((50.029912565, -40.109560491), (55.947690357, -45.057219925), (58.00226018, -42.379652402), (51.691554556, -37.944066488), align=None)
    extrude(amount=SLOT_COPPER_ENVELOPES_30_DEPTH)


with BuildPart() as body_31:
    # Эскиз1 → Slot_copper_envelopes 31 (new body)
    with BuildSketch(Plane.XY.offset(SLOT_COPPER_ENVELOPES_START)):
        Polygon((41.769514182, -33.232568395), (49.724094935, -39.87489837), (51.385736926, -37.709404367), (42.910941862, -31.745030882), align=None)
    extrude(amount=SLOT_COPPER_ENVELOPES_31_DEPTH)


with BuildPart() as body_32:
    # Эскиз1 → Slot_copper_envelopes 32 (new body)
    with BuildSketch(Plane.XY.offset(SLOT_COPPER_ENVELOPES_START)):
        Polygon((54.83724793, -33.236203657), (61.350197459, -37.369110177), (63.037697459, -34.446274439), (56.202020657, -30.872347953), align=None)
    extrude(amount=SLOT_COPPER_ENVELOPES_32_DEPTH)


solid = Compound([part.part, body_2.part, body_3.part, body_4.part, body_5.part, body_6.part, body_7.part, body_8.part, body_9.part, body_10.part, body_11.part, body_12.part, body_13.part, body_14.part, body_15.part, body_16.part, body_17.part, body_18.part, body_19.part, body_20.part, body_21.part, body_22.part, body_23.part, body_24.part, body_25.part, body_26.part, body_27.part, body_28.part, body_29.part, body_30.part, body_31.part, body_32.part])
